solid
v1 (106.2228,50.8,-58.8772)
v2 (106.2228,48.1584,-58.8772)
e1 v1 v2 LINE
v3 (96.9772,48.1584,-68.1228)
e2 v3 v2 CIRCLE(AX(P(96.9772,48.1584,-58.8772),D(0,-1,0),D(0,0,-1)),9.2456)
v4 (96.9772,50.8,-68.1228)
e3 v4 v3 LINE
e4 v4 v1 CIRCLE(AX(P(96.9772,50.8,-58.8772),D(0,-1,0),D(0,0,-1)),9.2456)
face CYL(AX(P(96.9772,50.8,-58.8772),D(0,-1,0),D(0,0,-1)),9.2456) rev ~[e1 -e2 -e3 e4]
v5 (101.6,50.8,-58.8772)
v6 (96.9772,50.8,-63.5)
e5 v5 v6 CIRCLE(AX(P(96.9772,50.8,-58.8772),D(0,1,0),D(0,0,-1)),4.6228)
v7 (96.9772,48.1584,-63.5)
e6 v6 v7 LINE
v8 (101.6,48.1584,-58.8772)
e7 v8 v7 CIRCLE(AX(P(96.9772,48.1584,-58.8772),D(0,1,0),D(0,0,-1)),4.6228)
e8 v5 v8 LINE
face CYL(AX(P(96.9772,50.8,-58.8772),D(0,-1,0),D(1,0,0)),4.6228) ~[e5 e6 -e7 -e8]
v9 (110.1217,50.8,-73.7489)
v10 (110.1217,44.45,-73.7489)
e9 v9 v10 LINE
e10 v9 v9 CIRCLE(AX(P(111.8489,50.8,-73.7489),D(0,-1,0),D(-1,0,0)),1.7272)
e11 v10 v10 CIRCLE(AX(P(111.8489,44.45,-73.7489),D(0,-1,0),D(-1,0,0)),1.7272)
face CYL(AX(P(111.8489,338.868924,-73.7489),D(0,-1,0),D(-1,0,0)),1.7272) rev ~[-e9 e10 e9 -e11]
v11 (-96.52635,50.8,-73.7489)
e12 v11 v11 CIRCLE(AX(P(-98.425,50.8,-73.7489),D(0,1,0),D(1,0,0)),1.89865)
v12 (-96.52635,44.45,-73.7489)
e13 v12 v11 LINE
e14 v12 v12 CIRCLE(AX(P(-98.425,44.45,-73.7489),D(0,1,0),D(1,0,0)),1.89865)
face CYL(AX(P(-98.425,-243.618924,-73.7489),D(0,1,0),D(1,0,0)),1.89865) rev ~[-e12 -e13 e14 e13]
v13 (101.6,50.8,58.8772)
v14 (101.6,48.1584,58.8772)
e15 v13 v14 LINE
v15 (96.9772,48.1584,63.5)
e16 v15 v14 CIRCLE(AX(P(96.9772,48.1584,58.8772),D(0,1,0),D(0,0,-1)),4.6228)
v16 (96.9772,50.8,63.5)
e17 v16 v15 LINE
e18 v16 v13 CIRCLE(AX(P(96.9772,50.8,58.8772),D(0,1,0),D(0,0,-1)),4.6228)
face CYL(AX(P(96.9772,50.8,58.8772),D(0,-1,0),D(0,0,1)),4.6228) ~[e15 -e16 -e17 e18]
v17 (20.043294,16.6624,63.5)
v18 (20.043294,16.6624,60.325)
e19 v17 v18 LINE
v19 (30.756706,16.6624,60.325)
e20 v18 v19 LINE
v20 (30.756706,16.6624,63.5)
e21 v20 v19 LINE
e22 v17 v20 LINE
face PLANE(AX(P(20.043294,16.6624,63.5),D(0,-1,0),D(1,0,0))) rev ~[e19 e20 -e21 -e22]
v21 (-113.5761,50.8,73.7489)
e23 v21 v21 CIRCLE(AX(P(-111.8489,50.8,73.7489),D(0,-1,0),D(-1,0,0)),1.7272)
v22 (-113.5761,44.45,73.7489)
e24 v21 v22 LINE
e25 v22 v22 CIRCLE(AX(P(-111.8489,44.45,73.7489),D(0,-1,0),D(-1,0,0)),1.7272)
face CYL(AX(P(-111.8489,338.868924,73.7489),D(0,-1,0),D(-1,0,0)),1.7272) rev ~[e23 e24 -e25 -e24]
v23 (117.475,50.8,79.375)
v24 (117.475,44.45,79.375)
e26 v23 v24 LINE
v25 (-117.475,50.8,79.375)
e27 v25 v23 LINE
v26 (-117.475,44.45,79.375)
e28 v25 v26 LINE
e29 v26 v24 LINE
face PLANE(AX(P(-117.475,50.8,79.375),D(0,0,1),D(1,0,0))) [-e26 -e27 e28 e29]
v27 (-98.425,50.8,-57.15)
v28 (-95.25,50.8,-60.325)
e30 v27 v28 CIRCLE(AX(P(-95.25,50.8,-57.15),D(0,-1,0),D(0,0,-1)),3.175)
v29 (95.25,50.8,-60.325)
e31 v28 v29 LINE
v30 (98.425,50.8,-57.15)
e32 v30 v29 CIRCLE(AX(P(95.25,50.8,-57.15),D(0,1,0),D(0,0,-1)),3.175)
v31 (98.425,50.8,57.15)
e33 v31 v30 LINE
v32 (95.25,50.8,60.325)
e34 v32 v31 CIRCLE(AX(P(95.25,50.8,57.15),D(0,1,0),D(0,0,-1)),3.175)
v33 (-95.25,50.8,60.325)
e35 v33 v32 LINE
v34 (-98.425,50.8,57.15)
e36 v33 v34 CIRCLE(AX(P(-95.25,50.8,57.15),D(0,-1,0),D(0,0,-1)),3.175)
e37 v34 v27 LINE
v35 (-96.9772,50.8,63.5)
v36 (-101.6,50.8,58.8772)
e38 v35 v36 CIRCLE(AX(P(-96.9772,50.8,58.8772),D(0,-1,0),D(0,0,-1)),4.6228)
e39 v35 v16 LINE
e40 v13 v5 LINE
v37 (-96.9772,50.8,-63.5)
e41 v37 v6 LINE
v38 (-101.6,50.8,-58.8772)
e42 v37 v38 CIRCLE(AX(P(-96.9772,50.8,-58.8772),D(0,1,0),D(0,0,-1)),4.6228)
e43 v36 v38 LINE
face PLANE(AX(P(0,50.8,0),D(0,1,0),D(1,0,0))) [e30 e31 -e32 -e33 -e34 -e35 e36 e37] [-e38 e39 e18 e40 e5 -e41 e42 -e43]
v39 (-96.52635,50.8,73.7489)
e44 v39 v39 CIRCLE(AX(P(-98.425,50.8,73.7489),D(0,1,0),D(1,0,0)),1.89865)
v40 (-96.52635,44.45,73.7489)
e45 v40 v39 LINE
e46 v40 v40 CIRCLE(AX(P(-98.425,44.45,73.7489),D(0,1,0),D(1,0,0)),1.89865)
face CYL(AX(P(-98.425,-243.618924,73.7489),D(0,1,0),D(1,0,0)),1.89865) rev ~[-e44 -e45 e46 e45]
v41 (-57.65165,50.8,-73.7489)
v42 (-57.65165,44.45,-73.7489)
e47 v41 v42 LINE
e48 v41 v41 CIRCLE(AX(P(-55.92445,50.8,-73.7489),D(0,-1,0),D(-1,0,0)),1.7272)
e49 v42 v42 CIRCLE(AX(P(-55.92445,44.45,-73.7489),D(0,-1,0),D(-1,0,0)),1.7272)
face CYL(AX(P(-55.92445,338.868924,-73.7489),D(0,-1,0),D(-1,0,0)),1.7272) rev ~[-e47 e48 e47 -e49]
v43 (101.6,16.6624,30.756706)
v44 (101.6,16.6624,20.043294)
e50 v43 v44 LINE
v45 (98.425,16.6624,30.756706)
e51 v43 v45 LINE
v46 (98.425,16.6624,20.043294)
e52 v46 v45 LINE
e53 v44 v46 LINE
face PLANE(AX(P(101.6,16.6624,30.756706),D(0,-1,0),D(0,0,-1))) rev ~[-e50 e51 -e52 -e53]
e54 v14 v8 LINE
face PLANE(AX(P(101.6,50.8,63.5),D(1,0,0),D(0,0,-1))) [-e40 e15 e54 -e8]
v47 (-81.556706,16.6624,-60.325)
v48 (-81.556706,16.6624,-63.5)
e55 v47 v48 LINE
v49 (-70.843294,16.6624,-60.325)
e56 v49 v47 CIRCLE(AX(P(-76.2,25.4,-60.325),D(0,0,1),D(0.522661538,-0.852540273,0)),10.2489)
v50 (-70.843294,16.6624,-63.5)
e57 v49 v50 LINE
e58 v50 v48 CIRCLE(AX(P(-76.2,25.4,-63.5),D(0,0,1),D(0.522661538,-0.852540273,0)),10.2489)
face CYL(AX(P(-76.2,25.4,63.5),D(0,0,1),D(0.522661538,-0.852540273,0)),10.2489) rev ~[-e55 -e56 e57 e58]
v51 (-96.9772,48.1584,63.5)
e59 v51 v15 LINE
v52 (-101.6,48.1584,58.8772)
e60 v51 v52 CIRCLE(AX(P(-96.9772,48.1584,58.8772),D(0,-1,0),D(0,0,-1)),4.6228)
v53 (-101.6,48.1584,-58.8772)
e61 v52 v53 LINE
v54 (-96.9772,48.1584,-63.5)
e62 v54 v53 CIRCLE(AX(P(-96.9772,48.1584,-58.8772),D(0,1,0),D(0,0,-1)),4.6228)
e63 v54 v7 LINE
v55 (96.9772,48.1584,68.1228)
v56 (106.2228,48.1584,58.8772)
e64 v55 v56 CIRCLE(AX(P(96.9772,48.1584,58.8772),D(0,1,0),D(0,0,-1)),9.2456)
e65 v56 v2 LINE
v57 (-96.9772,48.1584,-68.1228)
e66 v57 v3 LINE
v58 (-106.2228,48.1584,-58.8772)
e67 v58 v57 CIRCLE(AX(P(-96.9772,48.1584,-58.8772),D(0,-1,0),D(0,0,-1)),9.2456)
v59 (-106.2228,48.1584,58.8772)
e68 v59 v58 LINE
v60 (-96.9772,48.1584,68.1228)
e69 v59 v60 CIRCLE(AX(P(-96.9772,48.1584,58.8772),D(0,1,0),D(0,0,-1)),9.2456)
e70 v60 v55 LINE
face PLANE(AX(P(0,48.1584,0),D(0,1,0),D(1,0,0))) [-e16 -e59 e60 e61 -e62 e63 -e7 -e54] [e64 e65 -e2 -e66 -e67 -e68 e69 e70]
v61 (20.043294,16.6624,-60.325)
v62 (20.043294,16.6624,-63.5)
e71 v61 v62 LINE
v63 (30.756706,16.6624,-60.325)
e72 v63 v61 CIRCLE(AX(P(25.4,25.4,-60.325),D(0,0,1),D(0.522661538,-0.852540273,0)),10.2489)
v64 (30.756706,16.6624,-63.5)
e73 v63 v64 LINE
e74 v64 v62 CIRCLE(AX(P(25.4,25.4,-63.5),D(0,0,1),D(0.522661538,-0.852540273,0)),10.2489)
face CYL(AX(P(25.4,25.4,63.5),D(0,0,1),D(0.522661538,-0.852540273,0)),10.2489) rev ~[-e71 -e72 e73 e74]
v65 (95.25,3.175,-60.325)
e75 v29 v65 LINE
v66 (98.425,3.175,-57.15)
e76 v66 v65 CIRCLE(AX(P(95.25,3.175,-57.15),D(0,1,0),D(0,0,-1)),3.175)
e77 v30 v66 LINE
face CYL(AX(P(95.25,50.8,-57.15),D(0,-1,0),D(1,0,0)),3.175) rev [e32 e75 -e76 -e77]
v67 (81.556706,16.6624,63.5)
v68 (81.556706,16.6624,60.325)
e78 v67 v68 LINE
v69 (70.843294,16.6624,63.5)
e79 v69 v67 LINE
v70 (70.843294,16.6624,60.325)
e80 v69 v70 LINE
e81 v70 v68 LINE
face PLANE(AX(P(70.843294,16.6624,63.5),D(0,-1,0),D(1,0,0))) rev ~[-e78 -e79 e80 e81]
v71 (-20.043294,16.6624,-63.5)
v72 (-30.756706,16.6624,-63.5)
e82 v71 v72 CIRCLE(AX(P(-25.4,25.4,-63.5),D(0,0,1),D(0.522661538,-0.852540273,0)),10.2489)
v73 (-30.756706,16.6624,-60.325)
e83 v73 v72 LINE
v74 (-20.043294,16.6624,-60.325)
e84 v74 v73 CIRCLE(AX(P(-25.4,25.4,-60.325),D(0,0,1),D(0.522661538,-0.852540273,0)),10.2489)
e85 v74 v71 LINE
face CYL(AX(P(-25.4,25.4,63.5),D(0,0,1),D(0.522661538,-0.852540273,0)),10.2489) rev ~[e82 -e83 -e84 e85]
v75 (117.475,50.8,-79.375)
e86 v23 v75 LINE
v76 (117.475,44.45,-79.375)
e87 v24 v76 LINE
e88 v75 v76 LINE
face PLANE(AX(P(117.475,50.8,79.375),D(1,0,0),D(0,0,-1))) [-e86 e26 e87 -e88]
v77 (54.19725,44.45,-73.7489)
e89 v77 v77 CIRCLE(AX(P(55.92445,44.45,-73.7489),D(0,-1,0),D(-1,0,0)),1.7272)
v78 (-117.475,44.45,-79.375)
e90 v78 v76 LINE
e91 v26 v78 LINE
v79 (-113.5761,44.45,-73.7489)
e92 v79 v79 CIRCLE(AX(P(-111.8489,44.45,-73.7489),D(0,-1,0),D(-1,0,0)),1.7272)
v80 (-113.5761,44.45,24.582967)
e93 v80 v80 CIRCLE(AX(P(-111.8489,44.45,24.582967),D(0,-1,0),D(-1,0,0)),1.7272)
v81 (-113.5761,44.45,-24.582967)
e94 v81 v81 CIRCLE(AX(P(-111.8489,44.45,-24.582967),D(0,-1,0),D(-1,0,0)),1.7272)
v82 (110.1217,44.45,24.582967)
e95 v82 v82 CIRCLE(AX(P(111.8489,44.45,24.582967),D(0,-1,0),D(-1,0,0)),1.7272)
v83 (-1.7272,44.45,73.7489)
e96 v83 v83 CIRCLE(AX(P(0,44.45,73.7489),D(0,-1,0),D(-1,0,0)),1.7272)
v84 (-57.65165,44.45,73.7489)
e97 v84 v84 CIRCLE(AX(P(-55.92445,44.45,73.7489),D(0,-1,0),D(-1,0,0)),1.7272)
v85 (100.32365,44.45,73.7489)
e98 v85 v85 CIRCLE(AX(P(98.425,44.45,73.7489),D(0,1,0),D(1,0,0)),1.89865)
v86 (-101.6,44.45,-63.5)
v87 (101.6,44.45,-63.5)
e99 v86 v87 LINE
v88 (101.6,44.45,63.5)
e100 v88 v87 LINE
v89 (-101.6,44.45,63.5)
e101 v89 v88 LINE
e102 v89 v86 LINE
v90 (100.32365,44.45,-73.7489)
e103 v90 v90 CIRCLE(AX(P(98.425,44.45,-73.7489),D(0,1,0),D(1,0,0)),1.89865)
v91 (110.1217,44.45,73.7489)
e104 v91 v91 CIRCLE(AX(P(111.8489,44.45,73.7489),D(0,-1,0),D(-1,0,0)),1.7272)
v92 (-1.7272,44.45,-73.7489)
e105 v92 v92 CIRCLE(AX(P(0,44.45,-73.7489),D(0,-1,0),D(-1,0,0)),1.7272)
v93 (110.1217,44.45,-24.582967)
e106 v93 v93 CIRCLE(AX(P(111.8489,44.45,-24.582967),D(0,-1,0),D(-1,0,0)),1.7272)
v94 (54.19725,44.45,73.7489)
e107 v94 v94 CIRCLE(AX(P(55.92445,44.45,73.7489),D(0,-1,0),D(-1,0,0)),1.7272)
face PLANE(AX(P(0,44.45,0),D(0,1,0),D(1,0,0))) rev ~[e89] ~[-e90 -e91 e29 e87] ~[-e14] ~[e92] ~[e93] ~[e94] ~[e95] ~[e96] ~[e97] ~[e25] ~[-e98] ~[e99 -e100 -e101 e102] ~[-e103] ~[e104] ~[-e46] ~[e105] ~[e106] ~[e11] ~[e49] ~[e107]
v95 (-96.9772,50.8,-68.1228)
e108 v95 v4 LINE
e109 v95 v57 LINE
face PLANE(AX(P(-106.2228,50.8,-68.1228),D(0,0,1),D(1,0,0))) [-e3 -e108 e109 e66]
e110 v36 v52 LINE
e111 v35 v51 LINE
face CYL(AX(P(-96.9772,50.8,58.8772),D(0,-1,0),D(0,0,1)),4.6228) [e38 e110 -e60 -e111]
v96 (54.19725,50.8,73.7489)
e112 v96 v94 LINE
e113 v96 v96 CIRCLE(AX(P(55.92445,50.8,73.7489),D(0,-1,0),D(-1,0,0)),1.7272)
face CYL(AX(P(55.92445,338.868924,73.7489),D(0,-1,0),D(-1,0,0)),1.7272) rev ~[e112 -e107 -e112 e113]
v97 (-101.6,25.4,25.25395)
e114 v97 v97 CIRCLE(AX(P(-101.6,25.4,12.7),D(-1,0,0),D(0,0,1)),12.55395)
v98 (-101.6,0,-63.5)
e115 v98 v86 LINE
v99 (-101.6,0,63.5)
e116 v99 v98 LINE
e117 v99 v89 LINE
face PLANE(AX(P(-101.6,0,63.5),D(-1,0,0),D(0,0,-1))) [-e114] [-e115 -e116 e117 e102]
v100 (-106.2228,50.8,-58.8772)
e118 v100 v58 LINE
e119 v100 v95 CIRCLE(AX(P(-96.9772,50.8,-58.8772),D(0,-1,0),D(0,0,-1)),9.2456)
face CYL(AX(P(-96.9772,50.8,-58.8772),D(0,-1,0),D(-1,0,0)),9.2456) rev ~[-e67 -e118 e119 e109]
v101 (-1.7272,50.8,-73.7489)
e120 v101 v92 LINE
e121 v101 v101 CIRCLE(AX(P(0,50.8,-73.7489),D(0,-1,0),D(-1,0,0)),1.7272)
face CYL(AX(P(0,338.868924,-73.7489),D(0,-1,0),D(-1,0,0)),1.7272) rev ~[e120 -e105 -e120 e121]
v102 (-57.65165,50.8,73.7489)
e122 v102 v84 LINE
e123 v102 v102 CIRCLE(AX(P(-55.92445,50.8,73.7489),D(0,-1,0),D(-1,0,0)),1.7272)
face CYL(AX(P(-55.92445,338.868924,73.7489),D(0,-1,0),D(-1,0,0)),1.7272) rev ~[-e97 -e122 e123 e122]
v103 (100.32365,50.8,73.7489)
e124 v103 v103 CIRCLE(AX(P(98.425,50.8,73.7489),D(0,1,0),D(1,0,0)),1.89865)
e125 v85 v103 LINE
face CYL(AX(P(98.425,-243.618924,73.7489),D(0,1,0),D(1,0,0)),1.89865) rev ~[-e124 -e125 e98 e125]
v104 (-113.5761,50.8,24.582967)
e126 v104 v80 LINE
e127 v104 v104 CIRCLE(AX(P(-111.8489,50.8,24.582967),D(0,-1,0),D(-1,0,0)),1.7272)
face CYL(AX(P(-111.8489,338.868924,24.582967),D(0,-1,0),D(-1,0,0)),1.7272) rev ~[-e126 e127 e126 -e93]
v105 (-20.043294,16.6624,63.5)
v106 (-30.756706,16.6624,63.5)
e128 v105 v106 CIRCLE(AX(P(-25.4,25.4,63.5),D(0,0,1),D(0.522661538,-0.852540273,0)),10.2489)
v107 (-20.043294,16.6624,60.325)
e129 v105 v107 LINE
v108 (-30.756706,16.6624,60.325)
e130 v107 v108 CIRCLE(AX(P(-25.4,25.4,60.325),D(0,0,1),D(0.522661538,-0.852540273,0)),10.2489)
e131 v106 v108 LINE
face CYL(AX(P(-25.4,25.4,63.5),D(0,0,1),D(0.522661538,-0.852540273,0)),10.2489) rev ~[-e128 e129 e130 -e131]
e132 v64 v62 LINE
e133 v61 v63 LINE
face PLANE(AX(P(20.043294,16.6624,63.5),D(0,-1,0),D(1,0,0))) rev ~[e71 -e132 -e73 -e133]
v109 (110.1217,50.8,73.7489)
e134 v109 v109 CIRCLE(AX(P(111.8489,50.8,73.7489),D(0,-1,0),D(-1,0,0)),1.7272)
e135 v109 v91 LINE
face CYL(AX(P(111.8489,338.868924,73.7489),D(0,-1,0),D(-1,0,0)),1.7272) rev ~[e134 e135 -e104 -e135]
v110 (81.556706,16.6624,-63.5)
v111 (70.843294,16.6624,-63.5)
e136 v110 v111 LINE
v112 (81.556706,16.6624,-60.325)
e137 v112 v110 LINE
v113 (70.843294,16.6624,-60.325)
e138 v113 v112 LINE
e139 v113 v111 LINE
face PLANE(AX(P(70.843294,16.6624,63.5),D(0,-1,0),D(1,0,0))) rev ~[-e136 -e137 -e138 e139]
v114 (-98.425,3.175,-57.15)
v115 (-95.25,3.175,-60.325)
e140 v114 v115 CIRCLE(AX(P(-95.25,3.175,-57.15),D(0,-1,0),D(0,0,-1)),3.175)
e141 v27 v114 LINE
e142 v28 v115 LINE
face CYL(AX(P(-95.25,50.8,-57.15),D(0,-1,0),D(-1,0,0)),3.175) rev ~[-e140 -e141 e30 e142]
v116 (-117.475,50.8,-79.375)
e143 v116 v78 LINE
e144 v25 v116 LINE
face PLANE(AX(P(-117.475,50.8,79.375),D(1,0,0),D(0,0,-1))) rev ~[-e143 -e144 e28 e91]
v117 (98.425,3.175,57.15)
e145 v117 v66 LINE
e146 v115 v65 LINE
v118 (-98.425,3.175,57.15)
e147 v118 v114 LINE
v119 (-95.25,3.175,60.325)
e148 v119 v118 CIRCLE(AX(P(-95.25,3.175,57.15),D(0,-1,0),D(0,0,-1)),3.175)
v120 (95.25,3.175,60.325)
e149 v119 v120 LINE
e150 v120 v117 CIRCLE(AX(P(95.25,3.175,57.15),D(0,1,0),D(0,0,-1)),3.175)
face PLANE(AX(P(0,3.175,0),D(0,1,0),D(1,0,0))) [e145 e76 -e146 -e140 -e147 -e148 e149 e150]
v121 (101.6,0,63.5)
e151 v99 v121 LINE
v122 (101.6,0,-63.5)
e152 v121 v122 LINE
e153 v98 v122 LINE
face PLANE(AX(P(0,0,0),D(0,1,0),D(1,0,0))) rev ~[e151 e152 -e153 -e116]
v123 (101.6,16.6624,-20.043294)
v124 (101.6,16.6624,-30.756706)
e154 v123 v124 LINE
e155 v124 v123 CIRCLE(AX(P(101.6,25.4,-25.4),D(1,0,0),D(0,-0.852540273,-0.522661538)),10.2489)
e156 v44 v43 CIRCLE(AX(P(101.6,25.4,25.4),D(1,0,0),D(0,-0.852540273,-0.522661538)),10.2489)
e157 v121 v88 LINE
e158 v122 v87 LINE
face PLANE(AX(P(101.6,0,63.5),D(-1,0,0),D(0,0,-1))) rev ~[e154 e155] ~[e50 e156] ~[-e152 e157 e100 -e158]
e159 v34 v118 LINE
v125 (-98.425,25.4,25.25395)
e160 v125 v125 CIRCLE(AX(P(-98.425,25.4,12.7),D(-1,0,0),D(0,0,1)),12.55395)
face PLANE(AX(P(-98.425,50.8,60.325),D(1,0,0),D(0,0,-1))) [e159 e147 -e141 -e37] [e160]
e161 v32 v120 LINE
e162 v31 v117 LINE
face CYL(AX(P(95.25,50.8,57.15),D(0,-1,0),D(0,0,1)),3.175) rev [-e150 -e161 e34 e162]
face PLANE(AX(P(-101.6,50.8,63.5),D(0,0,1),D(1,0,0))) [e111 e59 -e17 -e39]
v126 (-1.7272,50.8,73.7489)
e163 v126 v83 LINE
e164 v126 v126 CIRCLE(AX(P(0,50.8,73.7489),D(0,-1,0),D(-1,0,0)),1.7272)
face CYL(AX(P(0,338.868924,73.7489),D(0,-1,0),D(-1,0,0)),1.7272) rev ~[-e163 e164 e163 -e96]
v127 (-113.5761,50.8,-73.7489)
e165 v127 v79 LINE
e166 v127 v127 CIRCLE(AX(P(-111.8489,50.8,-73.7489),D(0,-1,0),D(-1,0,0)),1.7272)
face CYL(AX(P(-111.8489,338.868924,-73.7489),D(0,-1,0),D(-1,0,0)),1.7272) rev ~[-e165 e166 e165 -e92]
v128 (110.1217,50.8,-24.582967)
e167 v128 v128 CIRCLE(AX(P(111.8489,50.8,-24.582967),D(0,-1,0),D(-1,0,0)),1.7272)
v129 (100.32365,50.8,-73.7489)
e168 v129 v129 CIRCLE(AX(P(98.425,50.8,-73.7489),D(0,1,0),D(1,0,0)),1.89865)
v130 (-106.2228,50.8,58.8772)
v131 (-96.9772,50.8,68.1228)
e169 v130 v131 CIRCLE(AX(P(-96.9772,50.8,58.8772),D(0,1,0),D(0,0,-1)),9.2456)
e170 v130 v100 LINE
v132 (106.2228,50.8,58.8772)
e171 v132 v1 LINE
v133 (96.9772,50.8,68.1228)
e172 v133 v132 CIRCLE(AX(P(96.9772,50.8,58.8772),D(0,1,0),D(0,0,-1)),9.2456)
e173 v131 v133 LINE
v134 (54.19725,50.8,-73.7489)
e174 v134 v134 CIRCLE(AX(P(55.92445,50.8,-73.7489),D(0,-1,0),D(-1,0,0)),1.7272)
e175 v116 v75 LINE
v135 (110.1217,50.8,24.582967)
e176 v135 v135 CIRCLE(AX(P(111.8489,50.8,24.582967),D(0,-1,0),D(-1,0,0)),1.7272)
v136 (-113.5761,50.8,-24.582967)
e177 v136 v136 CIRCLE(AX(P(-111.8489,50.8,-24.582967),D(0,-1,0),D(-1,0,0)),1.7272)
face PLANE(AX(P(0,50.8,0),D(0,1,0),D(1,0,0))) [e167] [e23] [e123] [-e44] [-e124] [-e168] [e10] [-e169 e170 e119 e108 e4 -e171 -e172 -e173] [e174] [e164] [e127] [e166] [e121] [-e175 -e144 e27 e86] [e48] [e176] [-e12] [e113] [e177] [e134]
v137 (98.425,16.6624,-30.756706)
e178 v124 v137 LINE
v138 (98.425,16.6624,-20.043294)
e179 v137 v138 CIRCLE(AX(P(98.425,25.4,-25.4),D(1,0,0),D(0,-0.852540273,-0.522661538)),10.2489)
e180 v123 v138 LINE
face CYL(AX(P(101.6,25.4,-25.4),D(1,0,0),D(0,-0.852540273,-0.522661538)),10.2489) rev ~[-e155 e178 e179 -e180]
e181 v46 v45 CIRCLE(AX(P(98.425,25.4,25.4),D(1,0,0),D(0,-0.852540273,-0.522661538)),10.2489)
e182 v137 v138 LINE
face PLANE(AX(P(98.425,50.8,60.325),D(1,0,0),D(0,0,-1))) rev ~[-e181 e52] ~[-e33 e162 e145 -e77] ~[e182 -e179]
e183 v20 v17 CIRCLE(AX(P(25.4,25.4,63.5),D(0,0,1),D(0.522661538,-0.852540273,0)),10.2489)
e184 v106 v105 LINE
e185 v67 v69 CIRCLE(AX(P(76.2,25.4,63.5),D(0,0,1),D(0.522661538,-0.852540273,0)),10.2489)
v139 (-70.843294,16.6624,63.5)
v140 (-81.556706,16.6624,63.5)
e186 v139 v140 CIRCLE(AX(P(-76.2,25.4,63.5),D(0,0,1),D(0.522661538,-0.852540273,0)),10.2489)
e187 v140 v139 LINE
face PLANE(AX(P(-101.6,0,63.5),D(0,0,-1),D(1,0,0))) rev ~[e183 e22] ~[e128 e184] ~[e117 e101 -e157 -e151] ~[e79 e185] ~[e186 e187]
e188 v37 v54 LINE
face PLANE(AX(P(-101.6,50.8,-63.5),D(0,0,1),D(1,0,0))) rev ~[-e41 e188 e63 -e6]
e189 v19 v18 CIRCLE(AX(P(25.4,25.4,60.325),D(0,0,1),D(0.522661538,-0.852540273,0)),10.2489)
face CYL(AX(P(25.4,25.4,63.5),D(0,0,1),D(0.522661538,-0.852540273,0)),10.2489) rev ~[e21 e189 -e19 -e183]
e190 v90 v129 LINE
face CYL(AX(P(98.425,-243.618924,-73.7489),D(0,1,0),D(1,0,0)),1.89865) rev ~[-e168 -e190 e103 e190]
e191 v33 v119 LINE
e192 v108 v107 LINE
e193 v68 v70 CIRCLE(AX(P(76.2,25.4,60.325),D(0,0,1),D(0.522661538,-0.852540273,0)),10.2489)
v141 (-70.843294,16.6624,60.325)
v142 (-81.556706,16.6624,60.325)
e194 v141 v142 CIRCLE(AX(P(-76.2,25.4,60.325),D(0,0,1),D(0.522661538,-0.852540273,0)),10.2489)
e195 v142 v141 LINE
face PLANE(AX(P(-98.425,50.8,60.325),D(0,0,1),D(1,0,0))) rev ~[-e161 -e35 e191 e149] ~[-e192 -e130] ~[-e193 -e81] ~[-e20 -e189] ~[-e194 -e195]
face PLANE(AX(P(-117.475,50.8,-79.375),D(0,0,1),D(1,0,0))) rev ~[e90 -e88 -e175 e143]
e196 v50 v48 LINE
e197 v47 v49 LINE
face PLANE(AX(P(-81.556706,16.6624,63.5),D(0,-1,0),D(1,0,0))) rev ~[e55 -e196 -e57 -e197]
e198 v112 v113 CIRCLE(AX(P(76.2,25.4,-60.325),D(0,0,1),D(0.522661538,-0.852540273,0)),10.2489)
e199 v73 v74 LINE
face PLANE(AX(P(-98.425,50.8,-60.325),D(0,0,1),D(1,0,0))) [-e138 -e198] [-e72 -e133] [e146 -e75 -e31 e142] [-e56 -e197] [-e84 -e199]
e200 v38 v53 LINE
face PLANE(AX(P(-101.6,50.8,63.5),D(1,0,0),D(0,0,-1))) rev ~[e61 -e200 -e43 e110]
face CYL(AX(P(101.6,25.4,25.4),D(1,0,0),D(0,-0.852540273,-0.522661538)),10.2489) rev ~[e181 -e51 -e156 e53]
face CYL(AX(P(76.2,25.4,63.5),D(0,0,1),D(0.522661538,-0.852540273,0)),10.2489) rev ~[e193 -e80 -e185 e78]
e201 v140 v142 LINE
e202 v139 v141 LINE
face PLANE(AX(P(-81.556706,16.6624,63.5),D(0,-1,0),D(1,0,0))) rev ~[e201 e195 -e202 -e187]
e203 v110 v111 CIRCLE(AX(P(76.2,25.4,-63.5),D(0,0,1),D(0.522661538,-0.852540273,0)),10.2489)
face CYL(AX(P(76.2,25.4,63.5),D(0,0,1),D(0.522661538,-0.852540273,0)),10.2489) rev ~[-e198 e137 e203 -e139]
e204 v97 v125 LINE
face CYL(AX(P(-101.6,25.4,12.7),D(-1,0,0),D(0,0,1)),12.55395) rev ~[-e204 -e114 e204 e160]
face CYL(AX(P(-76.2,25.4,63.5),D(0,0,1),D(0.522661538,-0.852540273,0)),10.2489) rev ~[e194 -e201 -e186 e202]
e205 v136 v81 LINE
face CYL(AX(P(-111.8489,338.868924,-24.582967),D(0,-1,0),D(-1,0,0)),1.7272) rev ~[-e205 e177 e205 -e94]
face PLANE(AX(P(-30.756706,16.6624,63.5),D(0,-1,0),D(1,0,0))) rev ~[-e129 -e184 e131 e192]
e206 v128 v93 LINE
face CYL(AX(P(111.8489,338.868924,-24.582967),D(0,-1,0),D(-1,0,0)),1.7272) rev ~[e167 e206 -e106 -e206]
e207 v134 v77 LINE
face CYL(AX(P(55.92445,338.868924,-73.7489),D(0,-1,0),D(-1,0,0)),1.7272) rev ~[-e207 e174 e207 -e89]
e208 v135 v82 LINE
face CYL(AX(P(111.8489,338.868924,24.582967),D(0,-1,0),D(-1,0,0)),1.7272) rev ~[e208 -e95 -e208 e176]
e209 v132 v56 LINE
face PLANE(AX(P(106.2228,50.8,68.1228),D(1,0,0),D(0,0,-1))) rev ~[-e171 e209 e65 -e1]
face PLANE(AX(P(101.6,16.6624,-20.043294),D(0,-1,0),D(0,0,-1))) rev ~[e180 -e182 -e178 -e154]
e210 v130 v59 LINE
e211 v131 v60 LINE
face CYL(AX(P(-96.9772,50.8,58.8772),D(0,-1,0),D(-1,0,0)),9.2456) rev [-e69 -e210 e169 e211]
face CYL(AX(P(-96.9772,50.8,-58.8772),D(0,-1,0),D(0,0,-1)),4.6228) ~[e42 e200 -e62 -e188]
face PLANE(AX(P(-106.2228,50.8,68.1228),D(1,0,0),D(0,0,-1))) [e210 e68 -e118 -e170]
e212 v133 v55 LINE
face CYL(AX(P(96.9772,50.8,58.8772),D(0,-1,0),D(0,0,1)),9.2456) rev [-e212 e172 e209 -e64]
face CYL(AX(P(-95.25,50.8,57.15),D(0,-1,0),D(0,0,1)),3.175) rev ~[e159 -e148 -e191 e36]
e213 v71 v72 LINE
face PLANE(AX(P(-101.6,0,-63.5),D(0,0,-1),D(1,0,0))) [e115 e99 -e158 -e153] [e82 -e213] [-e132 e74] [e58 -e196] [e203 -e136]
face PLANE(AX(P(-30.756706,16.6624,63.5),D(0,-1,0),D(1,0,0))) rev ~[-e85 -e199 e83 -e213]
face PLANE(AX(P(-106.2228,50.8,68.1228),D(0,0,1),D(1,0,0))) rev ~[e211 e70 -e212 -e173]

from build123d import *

# Parameters (mm, degrees)
SKETCH1_W             = 203.2
SKETCH1_H             = 127
BOSS_EXTRUDE1_DEPTH   = 50.8
SKETCH2_W             = 196.85
SKETCH2_H             = 120.65
CUT_EXTRUDE1_DEPTH    = 47.625
SKETCH4_W             = 234.95
SKETCH4_H             = 158.75
SKETCH4_W_2           = 203.2
SKETCH4_H_2           = 127
BOSS_EXTRUDE2_DEPTH   = 6.35
SKETCH7_W             = 212.4456
SKETCH7_H             = 136.2456
SKETCH7_W_2           = 203.2
SKETCH7_H_2           = 127
CUT_EXTRUDE2_DEPTH    = 2.6416
F_8_32_TAPPED_HOLE1_D = 3.4544
FILLET3_R             = 4.6228
FILLET4_R             = 9.2456
CUT_EXTRUDE5_DEPTH    = 143.875
CUT_EXTRUDE6_REACH    = 221.075
CUT_EXTRUDE7_REACH    = 221.075
SKETCH13_R            = 12.55395
FILLET5_R             = 3.175
F_6_CLEARANCE_HOLE1_D = 3.7973


with BuildPart() as part:
    # Sketch1 → Boss-Extrude1 (new body)
    with BuildSketch(Plane(origin=(0, 0, 0), x_dir=(1, 0, 0), z_dir=(0, 1, 0))):
        Rectangle(SKETCH1_W, SKETCH1_H)
    extrude(amount=BOSS_EXTRUDE1_DEPTH)

    # Sketch2 → Cut-Extrude1 (cut)
    with BuildSketch(Plane(origin=(0, 50.8, 0), x_dir=(1, 0, 0), z_dir=(0, 1, 0))):
        Rectangle(SKETCH2_W, SKETCH2_H)
    extrude(amount=-CUT_EXTRUDE1_DEPTH, mode=Mode.SUBTRACT)

    # Sketch4 → Boss-Extrude2 (add)
    with BuildSketch(Plane(origin=(0, 50.8, 0), x_dir=(1, 0, 0), z_dir=(0, 1, 0))):
        Rectangle(SKETCH4_W, SKETCH4_H)
        Rectangle(SKETCH4_W_2, SKETCH4_H_2, mode=Mode.SUBTRACT)
    extrude(amount=-BOSS_EXTRUDE2_DEPTH)

    # Sketch7 → Cut-Extrude2 (cut)
    with BuildSketch(Plane(origin=(0, 50.8, 0), x_dir=(1, 0, 0), z_dir=(0, 1, 0))):
        Rectangle(SKETCH7_W, SKETCH7_H)
        Rectangle(SKETCH7_W_2, SKETCH7_H_2, mode=Mode.SUBTRACT)
    extrude(amount=-CUT_EXTRUDE2_DEPTH, mode=Mode.SUBTRACT)

    # #8-32 Tapped Hole1 (through all)
    with Locations(Plane(origin=(0, 50.8, 0), x_dir=(1, 0, 0), z_dir=(0, 1, 0))):
        with Locations((55.92445, 73.7489), (111.8489, 73.7489), (111.8489, 24.582966667), (0, 73.7489), (111.8489, -24.582966667), (111.8489, -73.7489), (55.92445, -73.7489), (0, -73.7489), (-55.92445, -73.7489), (-111.8489, -73.7489), (-111.8489, -24.582966667), (-111.8489, 24.582966667), (-111.8489, 73.7489), (-55.92445, 73.7489)):
            Hole(F_8_32_TAPPED_HOLE1_D / 2)

    # Fillet3
    fillet3_edges = [part.edges().sort_by_distance(p)[0] for p in [
        (-101.6, 49.4792, -63.5),
        (101.6, 49.4792, -63.5),
        (101.6, 49.4792, 63.5),
        (-101.6, 49.4792, 63.5),
    ]]
    fillet(fillet3_edges, radius=FILLET3_R)

    # Fillet4
    fillet4_edges = [part.edges().sort_by_distance(p)[0] for p in [
        (-106.2228, 49.4792, -68.1228),
        (106.2228, 49.4792, -68.1228),
        (106.2228, 49.4792, 68.1228),
        (-106.2228, 49.4792, 68.1228),
    ]]
    fillet(fillet4_edges, radius=FILLET4_R)

    # Sketch10 → Cut-Extrude5 (cut, through all)
    with BuildSketch(Plane.XY.offset(63.5)):
        with BuildLine():
            ThreePointArc((-70.843294161, 16.6624), (-76.2, 35.6489), (-81.556705839, 16.6624))
            Line((-81.556705839, 16.6624), (-70.843294161, 16.6624))
        make_face()
        with BuildLine():
            ThreePointArc((81.556705839, 16.6624), (76.2, 35.6489), (70.843294161, 16.6624))
            Line((70.843294161, 16.6624), (81.556705839, 16.6624))
        make_face()
        with BuildLine():
            ThreePointArc((30.756705839, 16.6624), (25.4, 35.6489), (20.043294161, 16.6624))
            Line((20.043294161, 16.6624), (30.756705839, 16.6624))
        make_face()
        with BuildLine():
            ThreePointArc((-20.043294161, 16.6624), (-25.4, 35.6489), (-30.756705839, 16.6624))
            Line((-30.756705839, 16.6624), (-20.043294161, 16.6624))
        make_face()
    extrude(amount=-CUT_EXTRUDE5_DEPTH, mode=Mode.SUBTRACT)

    # Sketch12 → Cut-Extrude6 (cut, up to next)
    with BuildSketch(Plane(origin=(101.6, 0, 0), x_dir=(0, 0, -1), z_dir=(1, 0, 0)), mode=Mode.PRIVATE) as cut_extrude6_sk1:
        with BuildLine():
            ThreePointArc((-20.043294161, 16.6624), (-25.4, 35.6489), (-30.756705839, 16.6624))
            Line((-30.756705839, 16.6624), (-20.043294161, 16.6624))
        make_face()
    cut_extrude6_tool1 = extrude(cut_extrude6_sk1.sketch, amount=-CUT_EXTRUDE6_REACH, mode=Mode.PRIVATE) & part.part
    add(cut_extrude6_tool1.solids().sort_by_distance((101.6, 25.721198, 25.4))[0], mode=Mode.SUBTRACT)
    # Sketch12 → Cut-Extrude6 (cut, up to next)
    with BuildSketch(Plane(origin=(101.6, 0, 0), x_dir=(0, 0, -1), z_dir=(1, 0, 0)), mode=Mode.PRIVATE) as cut_extrude6_sk2:
        with BuildLine():
            ThreePointArc((30.756705839, 16.6624), (25.4, 35.6489), (20.043294161, 16.6624))
            Line((20.043294161, 16.6624), (30.756705839, 16.6624))
        make_face()
    cut_extrude6_tool2 = extrude(cut_extrude6_sk2.sketch, amount=-CUT_EXTRUDE6_REACH, mode=Mode.PRIVATE) & part.part
    add(cut_extrude6_tool2.solids().sort_by_distance((101.6, 25.721198, -25.4))[0], mode=Mode.SUBTRACT)

    # Sketch13 → Cut-Extrude7 (cut, up to next)
    with BuildSketch(Plane.ZY.offset(101.6), mode=Mode.PRIVATE) as cut_extrude7_sk1:
        with Locations((12.7, 25.4)):
            Circle(SKETCH13_R)
    cut_extrude7_tool1 = extrude(cut_extrude7_sk1.sketch, amount=-CUT_EXTRUDE7_REACH, mode=Mode.PRIVATE) & part.part
    add(cut_extrude7_tool1.solids().sort_by_distance((-101.6, 25.4, 12.7))[0], mode=Mode.SUBTRACT)

    # Fillet5
    fillet5_edges = [part.edges().sort_by_distance(p)[0] for p in [
        (-98.425, 26.9875, -60.325),
        (98.425, 26.9875, -60.325),
        (98.425, 26.9875, 60.325),
        (-98.425, 26.9875, 60.325),
    ]]
    fillet(fillet5_edges, radius=FILLET5_R)

    # #6 Clearance Hole1 (through all)
    with Locations(Plane(origin=(0, 44.45, 0), x_dir=(-1, 0, 0), z_dir=(0, -1, 0))):
        with Locations((-98.425, 73.7489), (-98.425, -73.7489), (98.425, -73.7489), (98.425, 73.7489)):
            Hole(F_6_CLEARANCE_HOLE1_D / 2)


solid = part.part
